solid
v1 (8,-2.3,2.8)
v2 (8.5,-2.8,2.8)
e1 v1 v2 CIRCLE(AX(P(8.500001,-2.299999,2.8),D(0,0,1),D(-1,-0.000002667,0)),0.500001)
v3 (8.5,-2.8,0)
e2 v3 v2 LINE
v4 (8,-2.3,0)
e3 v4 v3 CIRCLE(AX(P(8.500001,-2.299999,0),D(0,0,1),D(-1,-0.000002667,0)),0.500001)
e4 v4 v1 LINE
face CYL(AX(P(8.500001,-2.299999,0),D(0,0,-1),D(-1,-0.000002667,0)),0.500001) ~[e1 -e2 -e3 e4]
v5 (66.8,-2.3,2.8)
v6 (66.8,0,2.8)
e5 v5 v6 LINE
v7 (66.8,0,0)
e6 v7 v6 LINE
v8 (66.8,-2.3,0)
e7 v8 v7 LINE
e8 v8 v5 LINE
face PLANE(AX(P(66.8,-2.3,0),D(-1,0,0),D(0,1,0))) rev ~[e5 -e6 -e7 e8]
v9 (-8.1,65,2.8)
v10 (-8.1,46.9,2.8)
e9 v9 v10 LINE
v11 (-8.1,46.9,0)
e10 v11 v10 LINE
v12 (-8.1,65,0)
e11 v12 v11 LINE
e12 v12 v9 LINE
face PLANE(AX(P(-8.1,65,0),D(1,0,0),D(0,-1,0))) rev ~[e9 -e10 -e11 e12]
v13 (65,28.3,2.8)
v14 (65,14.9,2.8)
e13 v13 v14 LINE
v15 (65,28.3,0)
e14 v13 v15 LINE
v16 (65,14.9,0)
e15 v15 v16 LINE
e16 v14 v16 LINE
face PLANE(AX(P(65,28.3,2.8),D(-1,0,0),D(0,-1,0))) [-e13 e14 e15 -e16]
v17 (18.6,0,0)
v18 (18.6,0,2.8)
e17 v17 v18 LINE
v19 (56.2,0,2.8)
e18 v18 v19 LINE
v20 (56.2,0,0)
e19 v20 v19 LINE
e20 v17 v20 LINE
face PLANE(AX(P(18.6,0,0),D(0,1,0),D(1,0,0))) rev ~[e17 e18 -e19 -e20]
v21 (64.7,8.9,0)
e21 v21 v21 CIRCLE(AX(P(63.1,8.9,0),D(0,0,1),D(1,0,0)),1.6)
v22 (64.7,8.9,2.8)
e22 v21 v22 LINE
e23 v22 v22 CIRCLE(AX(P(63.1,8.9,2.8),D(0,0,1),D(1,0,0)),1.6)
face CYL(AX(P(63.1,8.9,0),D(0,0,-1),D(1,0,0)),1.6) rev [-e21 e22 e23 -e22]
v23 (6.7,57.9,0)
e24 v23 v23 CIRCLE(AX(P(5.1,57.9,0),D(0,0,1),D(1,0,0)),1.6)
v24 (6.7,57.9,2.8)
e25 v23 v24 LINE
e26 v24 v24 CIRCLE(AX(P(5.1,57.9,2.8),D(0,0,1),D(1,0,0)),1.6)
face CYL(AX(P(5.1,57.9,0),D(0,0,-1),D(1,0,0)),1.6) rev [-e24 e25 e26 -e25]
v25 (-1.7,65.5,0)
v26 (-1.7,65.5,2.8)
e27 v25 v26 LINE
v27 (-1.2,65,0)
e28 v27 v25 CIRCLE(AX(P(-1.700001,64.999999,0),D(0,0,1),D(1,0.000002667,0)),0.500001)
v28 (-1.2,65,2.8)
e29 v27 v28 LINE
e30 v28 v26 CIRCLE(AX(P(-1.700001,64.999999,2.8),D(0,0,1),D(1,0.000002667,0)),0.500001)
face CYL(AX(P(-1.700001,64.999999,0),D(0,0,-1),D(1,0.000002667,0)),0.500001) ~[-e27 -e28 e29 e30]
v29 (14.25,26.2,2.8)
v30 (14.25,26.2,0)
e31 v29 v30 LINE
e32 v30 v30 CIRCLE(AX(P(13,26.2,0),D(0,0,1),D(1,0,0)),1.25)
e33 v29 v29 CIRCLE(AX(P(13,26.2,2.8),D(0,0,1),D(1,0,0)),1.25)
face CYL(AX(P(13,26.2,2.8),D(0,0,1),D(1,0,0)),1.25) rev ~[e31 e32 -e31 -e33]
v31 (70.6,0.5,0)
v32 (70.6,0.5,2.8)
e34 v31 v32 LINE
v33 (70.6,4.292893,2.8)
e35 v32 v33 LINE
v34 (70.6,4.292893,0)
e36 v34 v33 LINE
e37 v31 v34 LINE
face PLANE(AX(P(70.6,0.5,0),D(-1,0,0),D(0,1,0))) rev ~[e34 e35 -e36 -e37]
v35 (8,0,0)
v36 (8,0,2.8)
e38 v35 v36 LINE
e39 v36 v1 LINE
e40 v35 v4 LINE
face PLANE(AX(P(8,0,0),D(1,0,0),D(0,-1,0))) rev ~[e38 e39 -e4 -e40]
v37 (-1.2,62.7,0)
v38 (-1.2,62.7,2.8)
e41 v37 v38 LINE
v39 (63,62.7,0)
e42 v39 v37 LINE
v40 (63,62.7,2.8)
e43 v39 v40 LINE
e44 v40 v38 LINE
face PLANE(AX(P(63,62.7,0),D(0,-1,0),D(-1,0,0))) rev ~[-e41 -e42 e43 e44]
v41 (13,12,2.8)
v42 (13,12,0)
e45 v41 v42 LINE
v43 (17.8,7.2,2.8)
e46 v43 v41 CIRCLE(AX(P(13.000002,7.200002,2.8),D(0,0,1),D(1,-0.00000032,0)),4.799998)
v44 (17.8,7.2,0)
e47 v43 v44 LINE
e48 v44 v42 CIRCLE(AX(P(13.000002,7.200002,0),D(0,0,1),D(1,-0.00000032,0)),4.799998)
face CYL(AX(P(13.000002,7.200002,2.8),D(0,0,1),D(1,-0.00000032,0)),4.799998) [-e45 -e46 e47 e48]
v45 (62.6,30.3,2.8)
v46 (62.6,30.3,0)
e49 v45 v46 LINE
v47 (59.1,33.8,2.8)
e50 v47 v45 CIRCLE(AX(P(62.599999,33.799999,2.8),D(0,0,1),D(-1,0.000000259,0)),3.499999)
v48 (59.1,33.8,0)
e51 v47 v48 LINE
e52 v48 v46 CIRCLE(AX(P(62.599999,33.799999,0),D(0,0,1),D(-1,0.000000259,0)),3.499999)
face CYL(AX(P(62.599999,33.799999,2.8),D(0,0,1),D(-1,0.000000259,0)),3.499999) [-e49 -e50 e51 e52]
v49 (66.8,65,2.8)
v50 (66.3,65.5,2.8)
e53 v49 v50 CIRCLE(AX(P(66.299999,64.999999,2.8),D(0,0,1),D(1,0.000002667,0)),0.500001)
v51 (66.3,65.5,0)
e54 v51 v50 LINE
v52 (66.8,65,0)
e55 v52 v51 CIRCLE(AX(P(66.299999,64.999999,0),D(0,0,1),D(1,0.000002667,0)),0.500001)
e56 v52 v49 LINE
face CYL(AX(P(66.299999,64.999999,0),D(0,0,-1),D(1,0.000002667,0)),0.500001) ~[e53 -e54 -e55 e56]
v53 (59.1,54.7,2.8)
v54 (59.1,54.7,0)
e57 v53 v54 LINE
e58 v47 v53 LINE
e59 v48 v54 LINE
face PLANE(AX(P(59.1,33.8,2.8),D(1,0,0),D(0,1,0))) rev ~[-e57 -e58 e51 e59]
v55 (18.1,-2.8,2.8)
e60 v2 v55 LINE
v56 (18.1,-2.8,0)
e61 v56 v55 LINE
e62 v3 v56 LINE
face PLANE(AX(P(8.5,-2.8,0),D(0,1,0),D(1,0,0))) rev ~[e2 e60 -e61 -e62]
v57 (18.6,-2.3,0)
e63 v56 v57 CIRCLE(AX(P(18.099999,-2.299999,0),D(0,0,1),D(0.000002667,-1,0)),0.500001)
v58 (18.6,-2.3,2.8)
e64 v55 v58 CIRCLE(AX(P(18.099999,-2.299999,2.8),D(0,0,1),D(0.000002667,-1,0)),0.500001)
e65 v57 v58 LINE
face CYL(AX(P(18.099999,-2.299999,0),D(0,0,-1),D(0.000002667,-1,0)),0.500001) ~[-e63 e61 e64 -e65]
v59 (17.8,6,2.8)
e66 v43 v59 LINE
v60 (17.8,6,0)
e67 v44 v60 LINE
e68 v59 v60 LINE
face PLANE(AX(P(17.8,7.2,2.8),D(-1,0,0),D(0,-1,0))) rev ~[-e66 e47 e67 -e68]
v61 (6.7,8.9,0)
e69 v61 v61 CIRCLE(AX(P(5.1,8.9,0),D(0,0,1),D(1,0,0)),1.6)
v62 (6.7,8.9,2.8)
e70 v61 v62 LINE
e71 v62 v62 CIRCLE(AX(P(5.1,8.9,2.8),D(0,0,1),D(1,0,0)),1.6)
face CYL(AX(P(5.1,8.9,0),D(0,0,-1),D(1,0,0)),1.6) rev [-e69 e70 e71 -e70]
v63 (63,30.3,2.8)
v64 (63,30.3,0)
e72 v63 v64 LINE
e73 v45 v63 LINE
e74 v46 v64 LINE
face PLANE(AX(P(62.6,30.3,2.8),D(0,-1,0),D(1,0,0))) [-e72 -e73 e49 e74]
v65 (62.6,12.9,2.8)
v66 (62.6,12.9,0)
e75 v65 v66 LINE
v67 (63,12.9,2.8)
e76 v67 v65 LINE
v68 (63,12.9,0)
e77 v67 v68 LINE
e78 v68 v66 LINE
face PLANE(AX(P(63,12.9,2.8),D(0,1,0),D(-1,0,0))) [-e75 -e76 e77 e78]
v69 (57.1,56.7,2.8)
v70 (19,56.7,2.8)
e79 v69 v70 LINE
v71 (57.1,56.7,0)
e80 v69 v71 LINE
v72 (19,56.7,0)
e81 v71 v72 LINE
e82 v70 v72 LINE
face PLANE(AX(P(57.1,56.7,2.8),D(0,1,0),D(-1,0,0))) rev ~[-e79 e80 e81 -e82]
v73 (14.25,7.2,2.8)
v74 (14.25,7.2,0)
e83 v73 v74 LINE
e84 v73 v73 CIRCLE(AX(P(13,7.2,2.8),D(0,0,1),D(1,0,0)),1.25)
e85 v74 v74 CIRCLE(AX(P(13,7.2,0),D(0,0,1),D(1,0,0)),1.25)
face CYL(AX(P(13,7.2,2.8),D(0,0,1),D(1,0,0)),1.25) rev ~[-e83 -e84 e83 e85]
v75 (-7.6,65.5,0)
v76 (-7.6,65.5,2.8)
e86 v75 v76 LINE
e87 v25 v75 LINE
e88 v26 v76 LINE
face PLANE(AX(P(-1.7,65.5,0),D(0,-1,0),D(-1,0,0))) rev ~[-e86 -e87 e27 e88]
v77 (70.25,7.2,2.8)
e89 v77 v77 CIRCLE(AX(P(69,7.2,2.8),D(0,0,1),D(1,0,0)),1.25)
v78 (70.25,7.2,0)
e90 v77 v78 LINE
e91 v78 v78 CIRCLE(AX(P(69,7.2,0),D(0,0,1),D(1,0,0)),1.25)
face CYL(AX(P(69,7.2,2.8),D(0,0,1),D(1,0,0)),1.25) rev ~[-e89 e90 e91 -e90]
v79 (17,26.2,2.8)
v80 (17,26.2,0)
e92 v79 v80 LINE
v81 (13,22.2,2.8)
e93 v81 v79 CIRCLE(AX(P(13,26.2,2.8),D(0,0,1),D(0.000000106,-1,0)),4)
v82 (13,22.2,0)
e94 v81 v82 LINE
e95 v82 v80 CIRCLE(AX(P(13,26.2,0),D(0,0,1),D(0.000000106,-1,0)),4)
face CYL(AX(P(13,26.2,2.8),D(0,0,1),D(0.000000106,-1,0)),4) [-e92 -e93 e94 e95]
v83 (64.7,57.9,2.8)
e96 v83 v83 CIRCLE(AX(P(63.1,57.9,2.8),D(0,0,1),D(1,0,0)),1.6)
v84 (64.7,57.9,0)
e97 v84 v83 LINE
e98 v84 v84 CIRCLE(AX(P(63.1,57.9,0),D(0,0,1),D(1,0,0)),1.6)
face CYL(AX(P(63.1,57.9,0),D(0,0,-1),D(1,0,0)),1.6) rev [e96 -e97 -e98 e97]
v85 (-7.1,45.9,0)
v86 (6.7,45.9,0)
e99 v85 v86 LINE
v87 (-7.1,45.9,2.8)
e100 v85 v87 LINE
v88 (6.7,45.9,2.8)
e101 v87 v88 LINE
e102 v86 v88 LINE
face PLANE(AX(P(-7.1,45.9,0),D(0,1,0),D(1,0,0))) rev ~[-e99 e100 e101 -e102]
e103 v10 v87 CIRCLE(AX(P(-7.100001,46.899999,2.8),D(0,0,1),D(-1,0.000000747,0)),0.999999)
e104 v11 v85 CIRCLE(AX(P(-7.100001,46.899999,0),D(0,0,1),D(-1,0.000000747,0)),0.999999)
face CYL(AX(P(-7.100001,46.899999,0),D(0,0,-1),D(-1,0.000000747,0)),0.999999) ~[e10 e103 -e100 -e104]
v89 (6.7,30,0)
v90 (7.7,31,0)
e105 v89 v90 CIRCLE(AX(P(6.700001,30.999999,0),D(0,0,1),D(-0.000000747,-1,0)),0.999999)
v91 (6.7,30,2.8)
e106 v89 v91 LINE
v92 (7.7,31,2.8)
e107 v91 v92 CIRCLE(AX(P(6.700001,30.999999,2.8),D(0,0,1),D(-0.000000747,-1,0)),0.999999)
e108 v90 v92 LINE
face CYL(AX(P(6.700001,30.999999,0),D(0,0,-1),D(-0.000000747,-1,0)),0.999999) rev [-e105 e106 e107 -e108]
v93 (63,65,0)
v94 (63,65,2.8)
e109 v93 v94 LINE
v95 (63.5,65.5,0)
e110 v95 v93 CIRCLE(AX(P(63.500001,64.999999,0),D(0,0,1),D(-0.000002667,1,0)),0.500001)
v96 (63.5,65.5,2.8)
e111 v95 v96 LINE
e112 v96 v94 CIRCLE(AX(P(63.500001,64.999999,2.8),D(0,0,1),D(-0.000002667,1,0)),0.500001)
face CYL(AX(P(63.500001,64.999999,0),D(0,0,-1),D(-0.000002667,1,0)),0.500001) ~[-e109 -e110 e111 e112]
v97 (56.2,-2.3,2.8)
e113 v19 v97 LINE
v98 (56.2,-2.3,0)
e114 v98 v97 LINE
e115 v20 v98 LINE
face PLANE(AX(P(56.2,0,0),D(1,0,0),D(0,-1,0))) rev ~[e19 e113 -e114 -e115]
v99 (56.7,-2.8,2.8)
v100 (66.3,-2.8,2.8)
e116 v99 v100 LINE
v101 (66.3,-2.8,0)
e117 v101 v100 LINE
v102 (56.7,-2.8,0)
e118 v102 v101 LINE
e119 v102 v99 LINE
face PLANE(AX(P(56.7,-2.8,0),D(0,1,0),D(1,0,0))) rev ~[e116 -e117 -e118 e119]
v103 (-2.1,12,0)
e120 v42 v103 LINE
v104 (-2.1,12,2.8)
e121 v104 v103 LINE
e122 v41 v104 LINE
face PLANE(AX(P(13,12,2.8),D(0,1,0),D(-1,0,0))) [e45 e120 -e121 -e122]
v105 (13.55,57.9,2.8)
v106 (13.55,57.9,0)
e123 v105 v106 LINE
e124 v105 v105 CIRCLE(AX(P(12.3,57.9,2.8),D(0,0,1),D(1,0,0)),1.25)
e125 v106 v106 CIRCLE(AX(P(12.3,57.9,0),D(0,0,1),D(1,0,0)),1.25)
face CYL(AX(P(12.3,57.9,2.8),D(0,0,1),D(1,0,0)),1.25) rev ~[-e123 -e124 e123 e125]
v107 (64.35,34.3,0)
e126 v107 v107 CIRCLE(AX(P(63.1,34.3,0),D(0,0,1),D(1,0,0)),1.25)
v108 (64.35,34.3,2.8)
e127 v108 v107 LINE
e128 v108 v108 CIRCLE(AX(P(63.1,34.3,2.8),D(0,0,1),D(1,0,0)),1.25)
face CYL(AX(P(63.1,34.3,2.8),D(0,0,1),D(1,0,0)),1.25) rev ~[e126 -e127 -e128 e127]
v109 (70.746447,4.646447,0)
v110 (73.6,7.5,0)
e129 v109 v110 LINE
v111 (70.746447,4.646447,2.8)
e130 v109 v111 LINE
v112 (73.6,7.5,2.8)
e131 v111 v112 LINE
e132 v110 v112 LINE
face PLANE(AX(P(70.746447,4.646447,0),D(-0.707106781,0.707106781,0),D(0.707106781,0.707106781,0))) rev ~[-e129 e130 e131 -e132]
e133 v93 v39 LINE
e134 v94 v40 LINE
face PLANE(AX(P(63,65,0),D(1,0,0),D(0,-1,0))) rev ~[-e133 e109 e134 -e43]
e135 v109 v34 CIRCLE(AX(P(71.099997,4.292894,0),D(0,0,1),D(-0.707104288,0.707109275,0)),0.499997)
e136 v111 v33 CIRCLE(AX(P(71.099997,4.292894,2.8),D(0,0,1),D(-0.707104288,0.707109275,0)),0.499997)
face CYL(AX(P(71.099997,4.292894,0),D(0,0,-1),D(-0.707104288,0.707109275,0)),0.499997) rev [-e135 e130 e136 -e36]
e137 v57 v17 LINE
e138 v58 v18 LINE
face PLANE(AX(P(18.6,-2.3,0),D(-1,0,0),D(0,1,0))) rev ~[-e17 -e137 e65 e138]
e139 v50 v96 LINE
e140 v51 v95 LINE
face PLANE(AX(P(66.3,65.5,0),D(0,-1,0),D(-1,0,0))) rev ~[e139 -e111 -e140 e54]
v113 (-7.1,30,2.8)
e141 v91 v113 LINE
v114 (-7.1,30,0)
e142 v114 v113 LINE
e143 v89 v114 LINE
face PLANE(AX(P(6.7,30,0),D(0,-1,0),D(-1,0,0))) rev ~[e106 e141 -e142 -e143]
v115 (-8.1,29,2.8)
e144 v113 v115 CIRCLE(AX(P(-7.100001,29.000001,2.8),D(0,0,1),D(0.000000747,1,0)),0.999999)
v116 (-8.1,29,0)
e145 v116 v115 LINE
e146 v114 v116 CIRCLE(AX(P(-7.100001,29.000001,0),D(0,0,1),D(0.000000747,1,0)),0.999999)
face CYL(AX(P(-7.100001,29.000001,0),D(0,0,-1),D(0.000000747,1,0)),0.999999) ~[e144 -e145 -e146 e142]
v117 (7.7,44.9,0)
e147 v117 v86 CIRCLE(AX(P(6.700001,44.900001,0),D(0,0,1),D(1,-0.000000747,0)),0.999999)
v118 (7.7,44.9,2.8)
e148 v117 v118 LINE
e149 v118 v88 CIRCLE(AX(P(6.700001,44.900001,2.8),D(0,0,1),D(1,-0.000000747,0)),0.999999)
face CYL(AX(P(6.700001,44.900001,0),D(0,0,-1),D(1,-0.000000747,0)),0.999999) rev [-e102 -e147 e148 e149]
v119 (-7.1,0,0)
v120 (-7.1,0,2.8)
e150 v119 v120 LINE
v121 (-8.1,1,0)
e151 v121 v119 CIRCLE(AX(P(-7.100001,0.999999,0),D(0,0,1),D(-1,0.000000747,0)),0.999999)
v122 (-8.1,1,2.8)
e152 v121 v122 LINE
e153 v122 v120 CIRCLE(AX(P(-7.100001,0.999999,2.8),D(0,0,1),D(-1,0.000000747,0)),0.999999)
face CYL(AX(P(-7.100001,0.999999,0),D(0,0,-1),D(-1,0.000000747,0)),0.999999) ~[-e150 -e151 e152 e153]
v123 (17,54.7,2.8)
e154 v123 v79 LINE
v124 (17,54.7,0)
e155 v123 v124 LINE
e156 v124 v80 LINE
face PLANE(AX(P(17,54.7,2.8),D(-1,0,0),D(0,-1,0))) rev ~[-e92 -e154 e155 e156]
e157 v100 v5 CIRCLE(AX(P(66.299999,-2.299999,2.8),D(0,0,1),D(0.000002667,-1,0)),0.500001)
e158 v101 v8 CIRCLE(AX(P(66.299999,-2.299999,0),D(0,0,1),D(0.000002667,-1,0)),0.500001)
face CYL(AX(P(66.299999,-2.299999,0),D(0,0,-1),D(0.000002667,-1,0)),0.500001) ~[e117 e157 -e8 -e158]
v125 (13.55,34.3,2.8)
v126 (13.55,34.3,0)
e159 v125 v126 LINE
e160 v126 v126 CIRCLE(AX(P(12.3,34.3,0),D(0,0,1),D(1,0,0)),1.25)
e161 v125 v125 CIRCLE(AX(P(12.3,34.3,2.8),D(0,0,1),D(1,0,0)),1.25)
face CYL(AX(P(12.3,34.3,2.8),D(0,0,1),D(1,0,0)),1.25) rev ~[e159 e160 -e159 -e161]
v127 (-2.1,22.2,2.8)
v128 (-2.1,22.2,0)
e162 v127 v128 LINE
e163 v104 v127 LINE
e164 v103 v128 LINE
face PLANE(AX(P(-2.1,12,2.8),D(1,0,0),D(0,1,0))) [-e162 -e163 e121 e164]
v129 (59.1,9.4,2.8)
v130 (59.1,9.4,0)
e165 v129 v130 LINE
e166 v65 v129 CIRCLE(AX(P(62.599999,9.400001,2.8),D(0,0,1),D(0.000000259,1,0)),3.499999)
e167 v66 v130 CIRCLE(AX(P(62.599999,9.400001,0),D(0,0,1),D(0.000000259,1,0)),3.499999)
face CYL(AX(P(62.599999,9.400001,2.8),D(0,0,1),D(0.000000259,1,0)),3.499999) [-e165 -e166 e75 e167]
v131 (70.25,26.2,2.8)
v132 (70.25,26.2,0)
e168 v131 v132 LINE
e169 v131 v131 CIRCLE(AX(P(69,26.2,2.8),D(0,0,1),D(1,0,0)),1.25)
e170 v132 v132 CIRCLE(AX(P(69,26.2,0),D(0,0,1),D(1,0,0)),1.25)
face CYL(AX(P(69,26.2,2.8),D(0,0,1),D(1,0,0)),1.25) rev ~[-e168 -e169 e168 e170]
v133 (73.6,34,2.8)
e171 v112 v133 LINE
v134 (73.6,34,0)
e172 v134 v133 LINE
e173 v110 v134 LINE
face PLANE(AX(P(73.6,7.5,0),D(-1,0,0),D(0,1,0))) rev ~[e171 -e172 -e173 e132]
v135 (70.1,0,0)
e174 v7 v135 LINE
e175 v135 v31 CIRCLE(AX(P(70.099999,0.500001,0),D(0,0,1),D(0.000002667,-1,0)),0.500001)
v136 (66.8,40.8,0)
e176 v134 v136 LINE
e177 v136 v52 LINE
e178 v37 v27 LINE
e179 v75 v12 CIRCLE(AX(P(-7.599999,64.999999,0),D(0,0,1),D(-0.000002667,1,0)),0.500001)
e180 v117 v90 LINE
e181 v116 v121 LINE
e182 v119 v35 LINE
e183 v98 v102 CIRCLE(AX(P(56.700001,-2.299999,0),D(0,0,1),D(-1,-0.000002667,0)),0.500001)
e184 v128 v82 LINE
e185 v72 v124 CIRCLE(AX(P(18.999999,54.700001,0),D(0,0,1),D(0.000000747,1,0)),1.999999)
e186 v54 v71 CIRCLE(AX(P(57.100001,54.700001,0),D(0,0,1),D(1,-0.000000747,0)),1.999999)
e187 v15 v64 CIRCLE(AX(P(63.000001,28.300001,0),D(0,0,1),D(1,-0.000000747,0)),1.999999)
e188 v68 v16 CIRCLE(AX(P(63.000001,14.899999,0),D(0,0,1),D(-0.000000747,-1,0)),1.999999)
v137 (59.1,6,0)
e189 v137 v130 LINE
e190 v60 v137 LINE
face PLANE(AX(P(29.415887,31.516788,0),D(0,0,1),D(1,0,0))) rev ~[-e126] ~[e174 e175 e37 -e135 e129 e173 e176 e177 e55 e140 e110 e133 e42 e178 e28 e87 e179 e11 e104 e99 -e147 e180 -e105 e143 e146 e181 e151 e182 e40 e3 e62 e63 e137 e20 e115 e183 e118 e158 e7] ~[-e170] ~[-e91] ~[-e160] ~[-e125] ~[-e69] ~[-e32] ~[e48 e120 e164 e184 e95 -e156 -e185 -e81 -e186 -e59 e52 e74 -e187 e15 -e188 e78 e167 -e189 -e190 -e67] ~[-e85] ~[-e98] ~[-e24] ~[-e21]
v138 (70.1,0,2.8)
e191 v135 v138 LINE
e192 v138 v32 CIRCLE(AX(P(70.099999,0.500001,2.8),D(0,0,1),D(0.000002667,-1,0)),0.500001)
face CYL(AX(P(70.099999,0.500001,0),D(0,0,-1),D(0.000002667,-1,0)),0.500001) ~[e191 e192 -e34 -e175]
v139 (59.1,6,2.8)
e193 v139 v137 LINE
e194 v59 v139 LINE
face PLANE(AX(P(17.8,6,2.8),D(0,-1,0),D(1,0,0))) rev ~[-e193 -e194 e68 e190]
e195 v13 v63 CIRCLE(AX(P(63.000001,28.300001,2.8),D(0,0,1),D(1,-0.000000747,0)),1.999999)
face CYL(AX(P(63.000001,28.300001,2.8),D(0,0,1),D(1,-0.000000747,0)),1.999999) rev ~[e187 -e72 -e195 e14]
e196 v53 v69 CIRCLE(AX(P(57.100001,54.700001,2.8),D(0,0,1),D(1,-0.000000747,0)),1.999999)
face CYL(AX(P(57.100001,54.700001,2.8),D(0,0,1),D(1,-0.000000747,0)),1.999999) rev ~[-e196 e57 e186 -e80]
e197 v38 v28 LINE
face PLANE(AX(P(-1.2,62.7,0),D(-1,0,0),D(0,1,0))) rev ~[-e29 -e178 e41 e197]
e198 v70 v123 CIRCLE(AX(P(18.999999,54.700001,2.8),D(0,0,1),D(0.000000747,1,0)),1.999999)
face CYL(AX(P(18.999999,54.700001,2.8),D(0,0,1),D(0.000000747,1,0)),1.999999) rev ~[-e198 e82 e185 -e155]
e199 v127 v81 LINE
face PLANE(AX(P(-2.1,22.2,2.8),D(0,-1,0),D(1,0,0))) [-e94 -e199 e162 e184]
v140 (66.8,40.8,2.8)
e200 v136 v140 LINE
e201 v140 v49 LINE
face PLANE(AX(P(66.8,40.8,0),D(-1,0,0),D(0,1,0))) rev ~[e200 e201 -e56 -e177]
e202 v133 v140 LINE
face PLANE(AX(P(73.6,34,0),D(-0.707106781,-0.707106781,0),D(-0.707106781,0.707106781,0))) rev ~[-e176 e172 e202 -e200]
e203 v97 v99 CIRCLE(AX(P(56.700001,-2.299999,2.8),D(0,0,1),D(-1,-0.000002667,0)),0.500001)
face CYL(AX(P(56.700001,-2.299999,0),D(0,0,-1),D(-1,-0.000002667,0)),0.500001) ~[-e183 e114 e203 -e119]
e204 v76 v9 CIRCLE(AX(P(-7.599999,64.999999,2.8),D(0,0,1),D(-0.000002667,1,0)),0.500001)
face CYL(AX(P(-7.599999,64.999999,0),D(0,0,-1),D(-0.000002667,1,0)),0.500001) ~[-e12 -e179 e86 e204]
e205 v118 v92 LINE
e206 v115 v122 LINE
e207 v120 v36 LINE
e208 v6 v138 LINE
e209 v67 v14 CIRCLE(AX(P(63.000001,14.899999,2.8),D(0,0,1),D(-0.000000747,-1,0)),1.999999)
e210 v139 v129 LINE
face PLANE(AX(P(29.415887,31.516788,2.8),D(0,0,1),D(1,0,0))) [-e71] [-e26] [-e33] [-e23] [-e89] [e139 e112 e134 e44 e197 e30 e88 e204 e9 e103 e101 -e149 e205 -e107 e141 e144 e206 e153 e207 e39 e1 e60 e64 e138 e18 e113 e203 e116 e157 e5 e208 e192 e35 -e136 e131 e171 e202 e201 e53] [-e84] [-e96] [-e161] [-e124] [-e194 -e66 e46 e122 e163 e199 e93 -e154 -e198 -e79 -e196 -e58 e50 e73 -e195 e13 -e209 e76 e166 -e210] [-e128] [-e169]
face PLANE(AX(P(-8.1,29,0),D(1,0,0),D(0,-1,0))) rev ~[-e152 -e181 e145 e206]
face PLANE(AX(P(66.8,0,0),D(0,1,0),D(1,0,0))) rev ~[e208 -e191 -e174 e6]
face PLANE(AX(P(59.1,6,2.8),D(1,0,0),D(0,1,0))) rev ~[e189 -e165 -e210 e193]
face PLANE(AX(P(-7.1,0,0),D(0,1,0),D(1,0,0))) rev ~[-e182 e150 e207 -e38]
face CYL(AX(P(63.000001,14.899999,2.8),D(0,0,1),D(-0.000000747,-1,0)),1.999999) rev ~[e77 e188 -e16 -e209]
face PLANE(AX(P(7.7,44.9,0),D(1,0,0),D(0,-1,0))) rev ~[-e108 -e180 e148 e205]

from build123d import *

# Parameters (mm, degrees)
SKETCH_R     = 1.6
PAD_DEPTH    = 2.8
SKETCH001_R  = 1.25
HOLE_DEPTH   = 2.801
POCKET_DEPTH = 2.801


with BuildPart() as part:
    # Sketch → Pad (new body)
    with BuildSketch(Plane.XY):
        with BuildLine():
            Line((1, 0), (8, 0))
            Line((8, 0), (8, -2.3))
            ThreePointArc((8, -2.3), (8.146447, -2.653553), (8.5, -2.8))
            Line((8.5, -2.8), (18.1, -2.8))
            ThreePointArc((18.1, -2.8), (18.453553, -2.653553), (18.6, -2.3))
            Line((18.6, -2.3), (18.6, 0))
            Line((18.6, 0), (56.2, 0))
            Line((56.2, 0), (56.2, -2.3))
            ThreePointArc((56.2, -2.3), (56.346447, -2.653553), (56.7, -2.8))
            Line((56.7, -2.8), (66.3, -2.8))
            ThreePointArc((66.3, -2.8), (66.653553, -2.653553), (66.8, -2.3))
            Line((66.8, -2.3), (66.8, 0))
            Line((66.8, 0), (70.1, 0))
            ThreePointArc((70.1, 0), (70.453553, 0.146447), (70.6, 0.5))
            Line((70.6, 0.5), (70.6, 4.292893))
            ThreePointArc((70.746447, 4.646447), (70.63806, 4.484235), (70.6, 4.292893))
            Line((70.746447, 4.646447), (73.6, 7.5))
            Line((73.6, 7.5), (73.6, 34))
            Line((73.6, 34), (66.8, 40.8))
            Line((66.8, 40.8), (66.8, 65))
            ThreePointArc((66.8, 65), (66.653553, 65.353553), (66.3, 65.5))
            Line((66.3, 65.5), (63.5, 65.5))
            ThreePointArc((63.5, 65.5), (63.146447, 65.353553), (63, 65))
            Line((63, 65), (63, 62.7))
            Line((63, 62.7), (-1.2, 62.7))
            Line((-1.2, 62.7), (-1.2, 65))
            ThreePointArc((-1.2, 65), (-1.346447, 65.353553), (-1.7, 65.5))
            Line((-1.7, 65.5), (-7.6, 65.5))
            ThreePointArc((-7.6, 65.5), (-7.953553, 65.353553), (-8.1, 65))
            Line((-8.1, 65), (-8.1, 46.9))
            ThreePointArc((-8.1, 46.9), (-7.807107, 46.192893), (-7.1, 45.9))
            Line((-7.1, 45.9), (6.7, 45.9))
            ThreePointArc((7.7, 44.9), (7.407107, 45.607107), (6.7, 45.9))
            Line((7.7, 44.9), (7.7, 31))
            ThreePointArc((6.7, 30), (7.407107, 30.292893), (7.7, 31))
            Line((6.7, 30), (-7.1, 30))
            ThreePointArc((-7.1, 30), (-7.807107, 29.707107), (-8.1, 29))
            Line((-8.1, 29), (-8.1, 1))
            ThreePointArc((-8.1, 1), (-7.807107, 0.292893), (-7.1, 0))
            Line((-7.1, 0), (1, 0))
        make_face()
        with Locations((5.1, 57.9)):
            Circle(SKETCH_R, mode=Mode.SUBTRACT)
        with Locations((63.1, 57.9)):
            Circle(SKETCH_R, mode=Mode.SUBTRACT)
        with Locations((5.1, 8.9)):
            Circle(SKETCH_R, mode=Mode.SUBTRACT)
        with Locations((63.1, 8.9)):
            Circle(SKETCH_R, mode=Mode.SUBTRACT)
    extrude(amount=PAD_DEPTH)

    # Sketch001 (on Face46 of Pad) → Hole (cut, through all)
    with BuildSketch(Plane.XY.offset(2.8)):
        with Locations((12.3, 57.9)):
            Circle(SKETCH001_R)
        with Locations((12.3, 34.3)):
            Circle(SKETCH001_R)
        with Locations((63.1, 34.3)):
            Circle(SKETCH001_R)
        with Locations((63.1, 57.9)):
            Circle(SKETCH001_R)
        with Locations((13, 26.2)):
            Circle(SKETCH001_R)
        with Locations((13, 7.2)):
            Circle(SKETCH001_R)
        with Locations((69, 7.2)):
            Circle(SKETCH001_R)
        with Locations((69, 26.2)):
            Circle(SKETCH001_R)
    extrude(amount=-HOLE_DEPTH, mode=Mode.SUBTRACT)

    # Sketch002 (on Face5 of Hole) → Pocket (cut, through all)
    with BuildSketch(Plane.XY.offset(2.8)):
        with BuildLine():
            Line((57.1, 56.7), (19, 56.7))
            ThreePointArc((19, 56.7), (17.585786, 56.114214), (17, 54.7))
            Line((17, 54.7), (17, 26.2))
            ThreePointArc((13, 22.2), (15.828427, 23.371573), (17, 26.2))
            Line((-2.1, 22.2), (13, 22.2))
            Line((-2.1, 12), (-2.1, 22.2))
            Line((13, 12), (-2.1, 12))
            ThreePointArc((17.8, 7.2), (16.394113, 10.594113), (13, 12))
            Line((17.8, 7.2), (17.8, 6))
            Line((17.8, 6), (59.1, 6))
            Line((59.1, 6), (59.1, 9.4))
            ThreePointArc((62.6, 12.9), (60.125126, 11.874874), (59.1, 9.4))
            Line((63, 12.9), (62.6, 12.9))
            ThreePointArc((63, 12.9), (64.414214, 13.485786), (65, 14.9))
            Line((65, 28.3), (65, 14.9))
            ThreePointArc((65, 28.3), (64.414214, 29.714214), (63, 30.3))
            Line((62.6, 30.3), (63, 30.3))
            ThreePointArc((59.1, 33.8), (60.125126, 31.325126), (62.6, 30.3))
            Line((59.1, 33.8), (59.1, 54.7))
            ThreePointArc((59.1, 54.7), (58.514214, 56.114214), (57.1, 56.7))
        make_face()
    extrude(amount=-POCKET_DEPTH, mode=Mode.SUBTRACT)


solid = part.part
